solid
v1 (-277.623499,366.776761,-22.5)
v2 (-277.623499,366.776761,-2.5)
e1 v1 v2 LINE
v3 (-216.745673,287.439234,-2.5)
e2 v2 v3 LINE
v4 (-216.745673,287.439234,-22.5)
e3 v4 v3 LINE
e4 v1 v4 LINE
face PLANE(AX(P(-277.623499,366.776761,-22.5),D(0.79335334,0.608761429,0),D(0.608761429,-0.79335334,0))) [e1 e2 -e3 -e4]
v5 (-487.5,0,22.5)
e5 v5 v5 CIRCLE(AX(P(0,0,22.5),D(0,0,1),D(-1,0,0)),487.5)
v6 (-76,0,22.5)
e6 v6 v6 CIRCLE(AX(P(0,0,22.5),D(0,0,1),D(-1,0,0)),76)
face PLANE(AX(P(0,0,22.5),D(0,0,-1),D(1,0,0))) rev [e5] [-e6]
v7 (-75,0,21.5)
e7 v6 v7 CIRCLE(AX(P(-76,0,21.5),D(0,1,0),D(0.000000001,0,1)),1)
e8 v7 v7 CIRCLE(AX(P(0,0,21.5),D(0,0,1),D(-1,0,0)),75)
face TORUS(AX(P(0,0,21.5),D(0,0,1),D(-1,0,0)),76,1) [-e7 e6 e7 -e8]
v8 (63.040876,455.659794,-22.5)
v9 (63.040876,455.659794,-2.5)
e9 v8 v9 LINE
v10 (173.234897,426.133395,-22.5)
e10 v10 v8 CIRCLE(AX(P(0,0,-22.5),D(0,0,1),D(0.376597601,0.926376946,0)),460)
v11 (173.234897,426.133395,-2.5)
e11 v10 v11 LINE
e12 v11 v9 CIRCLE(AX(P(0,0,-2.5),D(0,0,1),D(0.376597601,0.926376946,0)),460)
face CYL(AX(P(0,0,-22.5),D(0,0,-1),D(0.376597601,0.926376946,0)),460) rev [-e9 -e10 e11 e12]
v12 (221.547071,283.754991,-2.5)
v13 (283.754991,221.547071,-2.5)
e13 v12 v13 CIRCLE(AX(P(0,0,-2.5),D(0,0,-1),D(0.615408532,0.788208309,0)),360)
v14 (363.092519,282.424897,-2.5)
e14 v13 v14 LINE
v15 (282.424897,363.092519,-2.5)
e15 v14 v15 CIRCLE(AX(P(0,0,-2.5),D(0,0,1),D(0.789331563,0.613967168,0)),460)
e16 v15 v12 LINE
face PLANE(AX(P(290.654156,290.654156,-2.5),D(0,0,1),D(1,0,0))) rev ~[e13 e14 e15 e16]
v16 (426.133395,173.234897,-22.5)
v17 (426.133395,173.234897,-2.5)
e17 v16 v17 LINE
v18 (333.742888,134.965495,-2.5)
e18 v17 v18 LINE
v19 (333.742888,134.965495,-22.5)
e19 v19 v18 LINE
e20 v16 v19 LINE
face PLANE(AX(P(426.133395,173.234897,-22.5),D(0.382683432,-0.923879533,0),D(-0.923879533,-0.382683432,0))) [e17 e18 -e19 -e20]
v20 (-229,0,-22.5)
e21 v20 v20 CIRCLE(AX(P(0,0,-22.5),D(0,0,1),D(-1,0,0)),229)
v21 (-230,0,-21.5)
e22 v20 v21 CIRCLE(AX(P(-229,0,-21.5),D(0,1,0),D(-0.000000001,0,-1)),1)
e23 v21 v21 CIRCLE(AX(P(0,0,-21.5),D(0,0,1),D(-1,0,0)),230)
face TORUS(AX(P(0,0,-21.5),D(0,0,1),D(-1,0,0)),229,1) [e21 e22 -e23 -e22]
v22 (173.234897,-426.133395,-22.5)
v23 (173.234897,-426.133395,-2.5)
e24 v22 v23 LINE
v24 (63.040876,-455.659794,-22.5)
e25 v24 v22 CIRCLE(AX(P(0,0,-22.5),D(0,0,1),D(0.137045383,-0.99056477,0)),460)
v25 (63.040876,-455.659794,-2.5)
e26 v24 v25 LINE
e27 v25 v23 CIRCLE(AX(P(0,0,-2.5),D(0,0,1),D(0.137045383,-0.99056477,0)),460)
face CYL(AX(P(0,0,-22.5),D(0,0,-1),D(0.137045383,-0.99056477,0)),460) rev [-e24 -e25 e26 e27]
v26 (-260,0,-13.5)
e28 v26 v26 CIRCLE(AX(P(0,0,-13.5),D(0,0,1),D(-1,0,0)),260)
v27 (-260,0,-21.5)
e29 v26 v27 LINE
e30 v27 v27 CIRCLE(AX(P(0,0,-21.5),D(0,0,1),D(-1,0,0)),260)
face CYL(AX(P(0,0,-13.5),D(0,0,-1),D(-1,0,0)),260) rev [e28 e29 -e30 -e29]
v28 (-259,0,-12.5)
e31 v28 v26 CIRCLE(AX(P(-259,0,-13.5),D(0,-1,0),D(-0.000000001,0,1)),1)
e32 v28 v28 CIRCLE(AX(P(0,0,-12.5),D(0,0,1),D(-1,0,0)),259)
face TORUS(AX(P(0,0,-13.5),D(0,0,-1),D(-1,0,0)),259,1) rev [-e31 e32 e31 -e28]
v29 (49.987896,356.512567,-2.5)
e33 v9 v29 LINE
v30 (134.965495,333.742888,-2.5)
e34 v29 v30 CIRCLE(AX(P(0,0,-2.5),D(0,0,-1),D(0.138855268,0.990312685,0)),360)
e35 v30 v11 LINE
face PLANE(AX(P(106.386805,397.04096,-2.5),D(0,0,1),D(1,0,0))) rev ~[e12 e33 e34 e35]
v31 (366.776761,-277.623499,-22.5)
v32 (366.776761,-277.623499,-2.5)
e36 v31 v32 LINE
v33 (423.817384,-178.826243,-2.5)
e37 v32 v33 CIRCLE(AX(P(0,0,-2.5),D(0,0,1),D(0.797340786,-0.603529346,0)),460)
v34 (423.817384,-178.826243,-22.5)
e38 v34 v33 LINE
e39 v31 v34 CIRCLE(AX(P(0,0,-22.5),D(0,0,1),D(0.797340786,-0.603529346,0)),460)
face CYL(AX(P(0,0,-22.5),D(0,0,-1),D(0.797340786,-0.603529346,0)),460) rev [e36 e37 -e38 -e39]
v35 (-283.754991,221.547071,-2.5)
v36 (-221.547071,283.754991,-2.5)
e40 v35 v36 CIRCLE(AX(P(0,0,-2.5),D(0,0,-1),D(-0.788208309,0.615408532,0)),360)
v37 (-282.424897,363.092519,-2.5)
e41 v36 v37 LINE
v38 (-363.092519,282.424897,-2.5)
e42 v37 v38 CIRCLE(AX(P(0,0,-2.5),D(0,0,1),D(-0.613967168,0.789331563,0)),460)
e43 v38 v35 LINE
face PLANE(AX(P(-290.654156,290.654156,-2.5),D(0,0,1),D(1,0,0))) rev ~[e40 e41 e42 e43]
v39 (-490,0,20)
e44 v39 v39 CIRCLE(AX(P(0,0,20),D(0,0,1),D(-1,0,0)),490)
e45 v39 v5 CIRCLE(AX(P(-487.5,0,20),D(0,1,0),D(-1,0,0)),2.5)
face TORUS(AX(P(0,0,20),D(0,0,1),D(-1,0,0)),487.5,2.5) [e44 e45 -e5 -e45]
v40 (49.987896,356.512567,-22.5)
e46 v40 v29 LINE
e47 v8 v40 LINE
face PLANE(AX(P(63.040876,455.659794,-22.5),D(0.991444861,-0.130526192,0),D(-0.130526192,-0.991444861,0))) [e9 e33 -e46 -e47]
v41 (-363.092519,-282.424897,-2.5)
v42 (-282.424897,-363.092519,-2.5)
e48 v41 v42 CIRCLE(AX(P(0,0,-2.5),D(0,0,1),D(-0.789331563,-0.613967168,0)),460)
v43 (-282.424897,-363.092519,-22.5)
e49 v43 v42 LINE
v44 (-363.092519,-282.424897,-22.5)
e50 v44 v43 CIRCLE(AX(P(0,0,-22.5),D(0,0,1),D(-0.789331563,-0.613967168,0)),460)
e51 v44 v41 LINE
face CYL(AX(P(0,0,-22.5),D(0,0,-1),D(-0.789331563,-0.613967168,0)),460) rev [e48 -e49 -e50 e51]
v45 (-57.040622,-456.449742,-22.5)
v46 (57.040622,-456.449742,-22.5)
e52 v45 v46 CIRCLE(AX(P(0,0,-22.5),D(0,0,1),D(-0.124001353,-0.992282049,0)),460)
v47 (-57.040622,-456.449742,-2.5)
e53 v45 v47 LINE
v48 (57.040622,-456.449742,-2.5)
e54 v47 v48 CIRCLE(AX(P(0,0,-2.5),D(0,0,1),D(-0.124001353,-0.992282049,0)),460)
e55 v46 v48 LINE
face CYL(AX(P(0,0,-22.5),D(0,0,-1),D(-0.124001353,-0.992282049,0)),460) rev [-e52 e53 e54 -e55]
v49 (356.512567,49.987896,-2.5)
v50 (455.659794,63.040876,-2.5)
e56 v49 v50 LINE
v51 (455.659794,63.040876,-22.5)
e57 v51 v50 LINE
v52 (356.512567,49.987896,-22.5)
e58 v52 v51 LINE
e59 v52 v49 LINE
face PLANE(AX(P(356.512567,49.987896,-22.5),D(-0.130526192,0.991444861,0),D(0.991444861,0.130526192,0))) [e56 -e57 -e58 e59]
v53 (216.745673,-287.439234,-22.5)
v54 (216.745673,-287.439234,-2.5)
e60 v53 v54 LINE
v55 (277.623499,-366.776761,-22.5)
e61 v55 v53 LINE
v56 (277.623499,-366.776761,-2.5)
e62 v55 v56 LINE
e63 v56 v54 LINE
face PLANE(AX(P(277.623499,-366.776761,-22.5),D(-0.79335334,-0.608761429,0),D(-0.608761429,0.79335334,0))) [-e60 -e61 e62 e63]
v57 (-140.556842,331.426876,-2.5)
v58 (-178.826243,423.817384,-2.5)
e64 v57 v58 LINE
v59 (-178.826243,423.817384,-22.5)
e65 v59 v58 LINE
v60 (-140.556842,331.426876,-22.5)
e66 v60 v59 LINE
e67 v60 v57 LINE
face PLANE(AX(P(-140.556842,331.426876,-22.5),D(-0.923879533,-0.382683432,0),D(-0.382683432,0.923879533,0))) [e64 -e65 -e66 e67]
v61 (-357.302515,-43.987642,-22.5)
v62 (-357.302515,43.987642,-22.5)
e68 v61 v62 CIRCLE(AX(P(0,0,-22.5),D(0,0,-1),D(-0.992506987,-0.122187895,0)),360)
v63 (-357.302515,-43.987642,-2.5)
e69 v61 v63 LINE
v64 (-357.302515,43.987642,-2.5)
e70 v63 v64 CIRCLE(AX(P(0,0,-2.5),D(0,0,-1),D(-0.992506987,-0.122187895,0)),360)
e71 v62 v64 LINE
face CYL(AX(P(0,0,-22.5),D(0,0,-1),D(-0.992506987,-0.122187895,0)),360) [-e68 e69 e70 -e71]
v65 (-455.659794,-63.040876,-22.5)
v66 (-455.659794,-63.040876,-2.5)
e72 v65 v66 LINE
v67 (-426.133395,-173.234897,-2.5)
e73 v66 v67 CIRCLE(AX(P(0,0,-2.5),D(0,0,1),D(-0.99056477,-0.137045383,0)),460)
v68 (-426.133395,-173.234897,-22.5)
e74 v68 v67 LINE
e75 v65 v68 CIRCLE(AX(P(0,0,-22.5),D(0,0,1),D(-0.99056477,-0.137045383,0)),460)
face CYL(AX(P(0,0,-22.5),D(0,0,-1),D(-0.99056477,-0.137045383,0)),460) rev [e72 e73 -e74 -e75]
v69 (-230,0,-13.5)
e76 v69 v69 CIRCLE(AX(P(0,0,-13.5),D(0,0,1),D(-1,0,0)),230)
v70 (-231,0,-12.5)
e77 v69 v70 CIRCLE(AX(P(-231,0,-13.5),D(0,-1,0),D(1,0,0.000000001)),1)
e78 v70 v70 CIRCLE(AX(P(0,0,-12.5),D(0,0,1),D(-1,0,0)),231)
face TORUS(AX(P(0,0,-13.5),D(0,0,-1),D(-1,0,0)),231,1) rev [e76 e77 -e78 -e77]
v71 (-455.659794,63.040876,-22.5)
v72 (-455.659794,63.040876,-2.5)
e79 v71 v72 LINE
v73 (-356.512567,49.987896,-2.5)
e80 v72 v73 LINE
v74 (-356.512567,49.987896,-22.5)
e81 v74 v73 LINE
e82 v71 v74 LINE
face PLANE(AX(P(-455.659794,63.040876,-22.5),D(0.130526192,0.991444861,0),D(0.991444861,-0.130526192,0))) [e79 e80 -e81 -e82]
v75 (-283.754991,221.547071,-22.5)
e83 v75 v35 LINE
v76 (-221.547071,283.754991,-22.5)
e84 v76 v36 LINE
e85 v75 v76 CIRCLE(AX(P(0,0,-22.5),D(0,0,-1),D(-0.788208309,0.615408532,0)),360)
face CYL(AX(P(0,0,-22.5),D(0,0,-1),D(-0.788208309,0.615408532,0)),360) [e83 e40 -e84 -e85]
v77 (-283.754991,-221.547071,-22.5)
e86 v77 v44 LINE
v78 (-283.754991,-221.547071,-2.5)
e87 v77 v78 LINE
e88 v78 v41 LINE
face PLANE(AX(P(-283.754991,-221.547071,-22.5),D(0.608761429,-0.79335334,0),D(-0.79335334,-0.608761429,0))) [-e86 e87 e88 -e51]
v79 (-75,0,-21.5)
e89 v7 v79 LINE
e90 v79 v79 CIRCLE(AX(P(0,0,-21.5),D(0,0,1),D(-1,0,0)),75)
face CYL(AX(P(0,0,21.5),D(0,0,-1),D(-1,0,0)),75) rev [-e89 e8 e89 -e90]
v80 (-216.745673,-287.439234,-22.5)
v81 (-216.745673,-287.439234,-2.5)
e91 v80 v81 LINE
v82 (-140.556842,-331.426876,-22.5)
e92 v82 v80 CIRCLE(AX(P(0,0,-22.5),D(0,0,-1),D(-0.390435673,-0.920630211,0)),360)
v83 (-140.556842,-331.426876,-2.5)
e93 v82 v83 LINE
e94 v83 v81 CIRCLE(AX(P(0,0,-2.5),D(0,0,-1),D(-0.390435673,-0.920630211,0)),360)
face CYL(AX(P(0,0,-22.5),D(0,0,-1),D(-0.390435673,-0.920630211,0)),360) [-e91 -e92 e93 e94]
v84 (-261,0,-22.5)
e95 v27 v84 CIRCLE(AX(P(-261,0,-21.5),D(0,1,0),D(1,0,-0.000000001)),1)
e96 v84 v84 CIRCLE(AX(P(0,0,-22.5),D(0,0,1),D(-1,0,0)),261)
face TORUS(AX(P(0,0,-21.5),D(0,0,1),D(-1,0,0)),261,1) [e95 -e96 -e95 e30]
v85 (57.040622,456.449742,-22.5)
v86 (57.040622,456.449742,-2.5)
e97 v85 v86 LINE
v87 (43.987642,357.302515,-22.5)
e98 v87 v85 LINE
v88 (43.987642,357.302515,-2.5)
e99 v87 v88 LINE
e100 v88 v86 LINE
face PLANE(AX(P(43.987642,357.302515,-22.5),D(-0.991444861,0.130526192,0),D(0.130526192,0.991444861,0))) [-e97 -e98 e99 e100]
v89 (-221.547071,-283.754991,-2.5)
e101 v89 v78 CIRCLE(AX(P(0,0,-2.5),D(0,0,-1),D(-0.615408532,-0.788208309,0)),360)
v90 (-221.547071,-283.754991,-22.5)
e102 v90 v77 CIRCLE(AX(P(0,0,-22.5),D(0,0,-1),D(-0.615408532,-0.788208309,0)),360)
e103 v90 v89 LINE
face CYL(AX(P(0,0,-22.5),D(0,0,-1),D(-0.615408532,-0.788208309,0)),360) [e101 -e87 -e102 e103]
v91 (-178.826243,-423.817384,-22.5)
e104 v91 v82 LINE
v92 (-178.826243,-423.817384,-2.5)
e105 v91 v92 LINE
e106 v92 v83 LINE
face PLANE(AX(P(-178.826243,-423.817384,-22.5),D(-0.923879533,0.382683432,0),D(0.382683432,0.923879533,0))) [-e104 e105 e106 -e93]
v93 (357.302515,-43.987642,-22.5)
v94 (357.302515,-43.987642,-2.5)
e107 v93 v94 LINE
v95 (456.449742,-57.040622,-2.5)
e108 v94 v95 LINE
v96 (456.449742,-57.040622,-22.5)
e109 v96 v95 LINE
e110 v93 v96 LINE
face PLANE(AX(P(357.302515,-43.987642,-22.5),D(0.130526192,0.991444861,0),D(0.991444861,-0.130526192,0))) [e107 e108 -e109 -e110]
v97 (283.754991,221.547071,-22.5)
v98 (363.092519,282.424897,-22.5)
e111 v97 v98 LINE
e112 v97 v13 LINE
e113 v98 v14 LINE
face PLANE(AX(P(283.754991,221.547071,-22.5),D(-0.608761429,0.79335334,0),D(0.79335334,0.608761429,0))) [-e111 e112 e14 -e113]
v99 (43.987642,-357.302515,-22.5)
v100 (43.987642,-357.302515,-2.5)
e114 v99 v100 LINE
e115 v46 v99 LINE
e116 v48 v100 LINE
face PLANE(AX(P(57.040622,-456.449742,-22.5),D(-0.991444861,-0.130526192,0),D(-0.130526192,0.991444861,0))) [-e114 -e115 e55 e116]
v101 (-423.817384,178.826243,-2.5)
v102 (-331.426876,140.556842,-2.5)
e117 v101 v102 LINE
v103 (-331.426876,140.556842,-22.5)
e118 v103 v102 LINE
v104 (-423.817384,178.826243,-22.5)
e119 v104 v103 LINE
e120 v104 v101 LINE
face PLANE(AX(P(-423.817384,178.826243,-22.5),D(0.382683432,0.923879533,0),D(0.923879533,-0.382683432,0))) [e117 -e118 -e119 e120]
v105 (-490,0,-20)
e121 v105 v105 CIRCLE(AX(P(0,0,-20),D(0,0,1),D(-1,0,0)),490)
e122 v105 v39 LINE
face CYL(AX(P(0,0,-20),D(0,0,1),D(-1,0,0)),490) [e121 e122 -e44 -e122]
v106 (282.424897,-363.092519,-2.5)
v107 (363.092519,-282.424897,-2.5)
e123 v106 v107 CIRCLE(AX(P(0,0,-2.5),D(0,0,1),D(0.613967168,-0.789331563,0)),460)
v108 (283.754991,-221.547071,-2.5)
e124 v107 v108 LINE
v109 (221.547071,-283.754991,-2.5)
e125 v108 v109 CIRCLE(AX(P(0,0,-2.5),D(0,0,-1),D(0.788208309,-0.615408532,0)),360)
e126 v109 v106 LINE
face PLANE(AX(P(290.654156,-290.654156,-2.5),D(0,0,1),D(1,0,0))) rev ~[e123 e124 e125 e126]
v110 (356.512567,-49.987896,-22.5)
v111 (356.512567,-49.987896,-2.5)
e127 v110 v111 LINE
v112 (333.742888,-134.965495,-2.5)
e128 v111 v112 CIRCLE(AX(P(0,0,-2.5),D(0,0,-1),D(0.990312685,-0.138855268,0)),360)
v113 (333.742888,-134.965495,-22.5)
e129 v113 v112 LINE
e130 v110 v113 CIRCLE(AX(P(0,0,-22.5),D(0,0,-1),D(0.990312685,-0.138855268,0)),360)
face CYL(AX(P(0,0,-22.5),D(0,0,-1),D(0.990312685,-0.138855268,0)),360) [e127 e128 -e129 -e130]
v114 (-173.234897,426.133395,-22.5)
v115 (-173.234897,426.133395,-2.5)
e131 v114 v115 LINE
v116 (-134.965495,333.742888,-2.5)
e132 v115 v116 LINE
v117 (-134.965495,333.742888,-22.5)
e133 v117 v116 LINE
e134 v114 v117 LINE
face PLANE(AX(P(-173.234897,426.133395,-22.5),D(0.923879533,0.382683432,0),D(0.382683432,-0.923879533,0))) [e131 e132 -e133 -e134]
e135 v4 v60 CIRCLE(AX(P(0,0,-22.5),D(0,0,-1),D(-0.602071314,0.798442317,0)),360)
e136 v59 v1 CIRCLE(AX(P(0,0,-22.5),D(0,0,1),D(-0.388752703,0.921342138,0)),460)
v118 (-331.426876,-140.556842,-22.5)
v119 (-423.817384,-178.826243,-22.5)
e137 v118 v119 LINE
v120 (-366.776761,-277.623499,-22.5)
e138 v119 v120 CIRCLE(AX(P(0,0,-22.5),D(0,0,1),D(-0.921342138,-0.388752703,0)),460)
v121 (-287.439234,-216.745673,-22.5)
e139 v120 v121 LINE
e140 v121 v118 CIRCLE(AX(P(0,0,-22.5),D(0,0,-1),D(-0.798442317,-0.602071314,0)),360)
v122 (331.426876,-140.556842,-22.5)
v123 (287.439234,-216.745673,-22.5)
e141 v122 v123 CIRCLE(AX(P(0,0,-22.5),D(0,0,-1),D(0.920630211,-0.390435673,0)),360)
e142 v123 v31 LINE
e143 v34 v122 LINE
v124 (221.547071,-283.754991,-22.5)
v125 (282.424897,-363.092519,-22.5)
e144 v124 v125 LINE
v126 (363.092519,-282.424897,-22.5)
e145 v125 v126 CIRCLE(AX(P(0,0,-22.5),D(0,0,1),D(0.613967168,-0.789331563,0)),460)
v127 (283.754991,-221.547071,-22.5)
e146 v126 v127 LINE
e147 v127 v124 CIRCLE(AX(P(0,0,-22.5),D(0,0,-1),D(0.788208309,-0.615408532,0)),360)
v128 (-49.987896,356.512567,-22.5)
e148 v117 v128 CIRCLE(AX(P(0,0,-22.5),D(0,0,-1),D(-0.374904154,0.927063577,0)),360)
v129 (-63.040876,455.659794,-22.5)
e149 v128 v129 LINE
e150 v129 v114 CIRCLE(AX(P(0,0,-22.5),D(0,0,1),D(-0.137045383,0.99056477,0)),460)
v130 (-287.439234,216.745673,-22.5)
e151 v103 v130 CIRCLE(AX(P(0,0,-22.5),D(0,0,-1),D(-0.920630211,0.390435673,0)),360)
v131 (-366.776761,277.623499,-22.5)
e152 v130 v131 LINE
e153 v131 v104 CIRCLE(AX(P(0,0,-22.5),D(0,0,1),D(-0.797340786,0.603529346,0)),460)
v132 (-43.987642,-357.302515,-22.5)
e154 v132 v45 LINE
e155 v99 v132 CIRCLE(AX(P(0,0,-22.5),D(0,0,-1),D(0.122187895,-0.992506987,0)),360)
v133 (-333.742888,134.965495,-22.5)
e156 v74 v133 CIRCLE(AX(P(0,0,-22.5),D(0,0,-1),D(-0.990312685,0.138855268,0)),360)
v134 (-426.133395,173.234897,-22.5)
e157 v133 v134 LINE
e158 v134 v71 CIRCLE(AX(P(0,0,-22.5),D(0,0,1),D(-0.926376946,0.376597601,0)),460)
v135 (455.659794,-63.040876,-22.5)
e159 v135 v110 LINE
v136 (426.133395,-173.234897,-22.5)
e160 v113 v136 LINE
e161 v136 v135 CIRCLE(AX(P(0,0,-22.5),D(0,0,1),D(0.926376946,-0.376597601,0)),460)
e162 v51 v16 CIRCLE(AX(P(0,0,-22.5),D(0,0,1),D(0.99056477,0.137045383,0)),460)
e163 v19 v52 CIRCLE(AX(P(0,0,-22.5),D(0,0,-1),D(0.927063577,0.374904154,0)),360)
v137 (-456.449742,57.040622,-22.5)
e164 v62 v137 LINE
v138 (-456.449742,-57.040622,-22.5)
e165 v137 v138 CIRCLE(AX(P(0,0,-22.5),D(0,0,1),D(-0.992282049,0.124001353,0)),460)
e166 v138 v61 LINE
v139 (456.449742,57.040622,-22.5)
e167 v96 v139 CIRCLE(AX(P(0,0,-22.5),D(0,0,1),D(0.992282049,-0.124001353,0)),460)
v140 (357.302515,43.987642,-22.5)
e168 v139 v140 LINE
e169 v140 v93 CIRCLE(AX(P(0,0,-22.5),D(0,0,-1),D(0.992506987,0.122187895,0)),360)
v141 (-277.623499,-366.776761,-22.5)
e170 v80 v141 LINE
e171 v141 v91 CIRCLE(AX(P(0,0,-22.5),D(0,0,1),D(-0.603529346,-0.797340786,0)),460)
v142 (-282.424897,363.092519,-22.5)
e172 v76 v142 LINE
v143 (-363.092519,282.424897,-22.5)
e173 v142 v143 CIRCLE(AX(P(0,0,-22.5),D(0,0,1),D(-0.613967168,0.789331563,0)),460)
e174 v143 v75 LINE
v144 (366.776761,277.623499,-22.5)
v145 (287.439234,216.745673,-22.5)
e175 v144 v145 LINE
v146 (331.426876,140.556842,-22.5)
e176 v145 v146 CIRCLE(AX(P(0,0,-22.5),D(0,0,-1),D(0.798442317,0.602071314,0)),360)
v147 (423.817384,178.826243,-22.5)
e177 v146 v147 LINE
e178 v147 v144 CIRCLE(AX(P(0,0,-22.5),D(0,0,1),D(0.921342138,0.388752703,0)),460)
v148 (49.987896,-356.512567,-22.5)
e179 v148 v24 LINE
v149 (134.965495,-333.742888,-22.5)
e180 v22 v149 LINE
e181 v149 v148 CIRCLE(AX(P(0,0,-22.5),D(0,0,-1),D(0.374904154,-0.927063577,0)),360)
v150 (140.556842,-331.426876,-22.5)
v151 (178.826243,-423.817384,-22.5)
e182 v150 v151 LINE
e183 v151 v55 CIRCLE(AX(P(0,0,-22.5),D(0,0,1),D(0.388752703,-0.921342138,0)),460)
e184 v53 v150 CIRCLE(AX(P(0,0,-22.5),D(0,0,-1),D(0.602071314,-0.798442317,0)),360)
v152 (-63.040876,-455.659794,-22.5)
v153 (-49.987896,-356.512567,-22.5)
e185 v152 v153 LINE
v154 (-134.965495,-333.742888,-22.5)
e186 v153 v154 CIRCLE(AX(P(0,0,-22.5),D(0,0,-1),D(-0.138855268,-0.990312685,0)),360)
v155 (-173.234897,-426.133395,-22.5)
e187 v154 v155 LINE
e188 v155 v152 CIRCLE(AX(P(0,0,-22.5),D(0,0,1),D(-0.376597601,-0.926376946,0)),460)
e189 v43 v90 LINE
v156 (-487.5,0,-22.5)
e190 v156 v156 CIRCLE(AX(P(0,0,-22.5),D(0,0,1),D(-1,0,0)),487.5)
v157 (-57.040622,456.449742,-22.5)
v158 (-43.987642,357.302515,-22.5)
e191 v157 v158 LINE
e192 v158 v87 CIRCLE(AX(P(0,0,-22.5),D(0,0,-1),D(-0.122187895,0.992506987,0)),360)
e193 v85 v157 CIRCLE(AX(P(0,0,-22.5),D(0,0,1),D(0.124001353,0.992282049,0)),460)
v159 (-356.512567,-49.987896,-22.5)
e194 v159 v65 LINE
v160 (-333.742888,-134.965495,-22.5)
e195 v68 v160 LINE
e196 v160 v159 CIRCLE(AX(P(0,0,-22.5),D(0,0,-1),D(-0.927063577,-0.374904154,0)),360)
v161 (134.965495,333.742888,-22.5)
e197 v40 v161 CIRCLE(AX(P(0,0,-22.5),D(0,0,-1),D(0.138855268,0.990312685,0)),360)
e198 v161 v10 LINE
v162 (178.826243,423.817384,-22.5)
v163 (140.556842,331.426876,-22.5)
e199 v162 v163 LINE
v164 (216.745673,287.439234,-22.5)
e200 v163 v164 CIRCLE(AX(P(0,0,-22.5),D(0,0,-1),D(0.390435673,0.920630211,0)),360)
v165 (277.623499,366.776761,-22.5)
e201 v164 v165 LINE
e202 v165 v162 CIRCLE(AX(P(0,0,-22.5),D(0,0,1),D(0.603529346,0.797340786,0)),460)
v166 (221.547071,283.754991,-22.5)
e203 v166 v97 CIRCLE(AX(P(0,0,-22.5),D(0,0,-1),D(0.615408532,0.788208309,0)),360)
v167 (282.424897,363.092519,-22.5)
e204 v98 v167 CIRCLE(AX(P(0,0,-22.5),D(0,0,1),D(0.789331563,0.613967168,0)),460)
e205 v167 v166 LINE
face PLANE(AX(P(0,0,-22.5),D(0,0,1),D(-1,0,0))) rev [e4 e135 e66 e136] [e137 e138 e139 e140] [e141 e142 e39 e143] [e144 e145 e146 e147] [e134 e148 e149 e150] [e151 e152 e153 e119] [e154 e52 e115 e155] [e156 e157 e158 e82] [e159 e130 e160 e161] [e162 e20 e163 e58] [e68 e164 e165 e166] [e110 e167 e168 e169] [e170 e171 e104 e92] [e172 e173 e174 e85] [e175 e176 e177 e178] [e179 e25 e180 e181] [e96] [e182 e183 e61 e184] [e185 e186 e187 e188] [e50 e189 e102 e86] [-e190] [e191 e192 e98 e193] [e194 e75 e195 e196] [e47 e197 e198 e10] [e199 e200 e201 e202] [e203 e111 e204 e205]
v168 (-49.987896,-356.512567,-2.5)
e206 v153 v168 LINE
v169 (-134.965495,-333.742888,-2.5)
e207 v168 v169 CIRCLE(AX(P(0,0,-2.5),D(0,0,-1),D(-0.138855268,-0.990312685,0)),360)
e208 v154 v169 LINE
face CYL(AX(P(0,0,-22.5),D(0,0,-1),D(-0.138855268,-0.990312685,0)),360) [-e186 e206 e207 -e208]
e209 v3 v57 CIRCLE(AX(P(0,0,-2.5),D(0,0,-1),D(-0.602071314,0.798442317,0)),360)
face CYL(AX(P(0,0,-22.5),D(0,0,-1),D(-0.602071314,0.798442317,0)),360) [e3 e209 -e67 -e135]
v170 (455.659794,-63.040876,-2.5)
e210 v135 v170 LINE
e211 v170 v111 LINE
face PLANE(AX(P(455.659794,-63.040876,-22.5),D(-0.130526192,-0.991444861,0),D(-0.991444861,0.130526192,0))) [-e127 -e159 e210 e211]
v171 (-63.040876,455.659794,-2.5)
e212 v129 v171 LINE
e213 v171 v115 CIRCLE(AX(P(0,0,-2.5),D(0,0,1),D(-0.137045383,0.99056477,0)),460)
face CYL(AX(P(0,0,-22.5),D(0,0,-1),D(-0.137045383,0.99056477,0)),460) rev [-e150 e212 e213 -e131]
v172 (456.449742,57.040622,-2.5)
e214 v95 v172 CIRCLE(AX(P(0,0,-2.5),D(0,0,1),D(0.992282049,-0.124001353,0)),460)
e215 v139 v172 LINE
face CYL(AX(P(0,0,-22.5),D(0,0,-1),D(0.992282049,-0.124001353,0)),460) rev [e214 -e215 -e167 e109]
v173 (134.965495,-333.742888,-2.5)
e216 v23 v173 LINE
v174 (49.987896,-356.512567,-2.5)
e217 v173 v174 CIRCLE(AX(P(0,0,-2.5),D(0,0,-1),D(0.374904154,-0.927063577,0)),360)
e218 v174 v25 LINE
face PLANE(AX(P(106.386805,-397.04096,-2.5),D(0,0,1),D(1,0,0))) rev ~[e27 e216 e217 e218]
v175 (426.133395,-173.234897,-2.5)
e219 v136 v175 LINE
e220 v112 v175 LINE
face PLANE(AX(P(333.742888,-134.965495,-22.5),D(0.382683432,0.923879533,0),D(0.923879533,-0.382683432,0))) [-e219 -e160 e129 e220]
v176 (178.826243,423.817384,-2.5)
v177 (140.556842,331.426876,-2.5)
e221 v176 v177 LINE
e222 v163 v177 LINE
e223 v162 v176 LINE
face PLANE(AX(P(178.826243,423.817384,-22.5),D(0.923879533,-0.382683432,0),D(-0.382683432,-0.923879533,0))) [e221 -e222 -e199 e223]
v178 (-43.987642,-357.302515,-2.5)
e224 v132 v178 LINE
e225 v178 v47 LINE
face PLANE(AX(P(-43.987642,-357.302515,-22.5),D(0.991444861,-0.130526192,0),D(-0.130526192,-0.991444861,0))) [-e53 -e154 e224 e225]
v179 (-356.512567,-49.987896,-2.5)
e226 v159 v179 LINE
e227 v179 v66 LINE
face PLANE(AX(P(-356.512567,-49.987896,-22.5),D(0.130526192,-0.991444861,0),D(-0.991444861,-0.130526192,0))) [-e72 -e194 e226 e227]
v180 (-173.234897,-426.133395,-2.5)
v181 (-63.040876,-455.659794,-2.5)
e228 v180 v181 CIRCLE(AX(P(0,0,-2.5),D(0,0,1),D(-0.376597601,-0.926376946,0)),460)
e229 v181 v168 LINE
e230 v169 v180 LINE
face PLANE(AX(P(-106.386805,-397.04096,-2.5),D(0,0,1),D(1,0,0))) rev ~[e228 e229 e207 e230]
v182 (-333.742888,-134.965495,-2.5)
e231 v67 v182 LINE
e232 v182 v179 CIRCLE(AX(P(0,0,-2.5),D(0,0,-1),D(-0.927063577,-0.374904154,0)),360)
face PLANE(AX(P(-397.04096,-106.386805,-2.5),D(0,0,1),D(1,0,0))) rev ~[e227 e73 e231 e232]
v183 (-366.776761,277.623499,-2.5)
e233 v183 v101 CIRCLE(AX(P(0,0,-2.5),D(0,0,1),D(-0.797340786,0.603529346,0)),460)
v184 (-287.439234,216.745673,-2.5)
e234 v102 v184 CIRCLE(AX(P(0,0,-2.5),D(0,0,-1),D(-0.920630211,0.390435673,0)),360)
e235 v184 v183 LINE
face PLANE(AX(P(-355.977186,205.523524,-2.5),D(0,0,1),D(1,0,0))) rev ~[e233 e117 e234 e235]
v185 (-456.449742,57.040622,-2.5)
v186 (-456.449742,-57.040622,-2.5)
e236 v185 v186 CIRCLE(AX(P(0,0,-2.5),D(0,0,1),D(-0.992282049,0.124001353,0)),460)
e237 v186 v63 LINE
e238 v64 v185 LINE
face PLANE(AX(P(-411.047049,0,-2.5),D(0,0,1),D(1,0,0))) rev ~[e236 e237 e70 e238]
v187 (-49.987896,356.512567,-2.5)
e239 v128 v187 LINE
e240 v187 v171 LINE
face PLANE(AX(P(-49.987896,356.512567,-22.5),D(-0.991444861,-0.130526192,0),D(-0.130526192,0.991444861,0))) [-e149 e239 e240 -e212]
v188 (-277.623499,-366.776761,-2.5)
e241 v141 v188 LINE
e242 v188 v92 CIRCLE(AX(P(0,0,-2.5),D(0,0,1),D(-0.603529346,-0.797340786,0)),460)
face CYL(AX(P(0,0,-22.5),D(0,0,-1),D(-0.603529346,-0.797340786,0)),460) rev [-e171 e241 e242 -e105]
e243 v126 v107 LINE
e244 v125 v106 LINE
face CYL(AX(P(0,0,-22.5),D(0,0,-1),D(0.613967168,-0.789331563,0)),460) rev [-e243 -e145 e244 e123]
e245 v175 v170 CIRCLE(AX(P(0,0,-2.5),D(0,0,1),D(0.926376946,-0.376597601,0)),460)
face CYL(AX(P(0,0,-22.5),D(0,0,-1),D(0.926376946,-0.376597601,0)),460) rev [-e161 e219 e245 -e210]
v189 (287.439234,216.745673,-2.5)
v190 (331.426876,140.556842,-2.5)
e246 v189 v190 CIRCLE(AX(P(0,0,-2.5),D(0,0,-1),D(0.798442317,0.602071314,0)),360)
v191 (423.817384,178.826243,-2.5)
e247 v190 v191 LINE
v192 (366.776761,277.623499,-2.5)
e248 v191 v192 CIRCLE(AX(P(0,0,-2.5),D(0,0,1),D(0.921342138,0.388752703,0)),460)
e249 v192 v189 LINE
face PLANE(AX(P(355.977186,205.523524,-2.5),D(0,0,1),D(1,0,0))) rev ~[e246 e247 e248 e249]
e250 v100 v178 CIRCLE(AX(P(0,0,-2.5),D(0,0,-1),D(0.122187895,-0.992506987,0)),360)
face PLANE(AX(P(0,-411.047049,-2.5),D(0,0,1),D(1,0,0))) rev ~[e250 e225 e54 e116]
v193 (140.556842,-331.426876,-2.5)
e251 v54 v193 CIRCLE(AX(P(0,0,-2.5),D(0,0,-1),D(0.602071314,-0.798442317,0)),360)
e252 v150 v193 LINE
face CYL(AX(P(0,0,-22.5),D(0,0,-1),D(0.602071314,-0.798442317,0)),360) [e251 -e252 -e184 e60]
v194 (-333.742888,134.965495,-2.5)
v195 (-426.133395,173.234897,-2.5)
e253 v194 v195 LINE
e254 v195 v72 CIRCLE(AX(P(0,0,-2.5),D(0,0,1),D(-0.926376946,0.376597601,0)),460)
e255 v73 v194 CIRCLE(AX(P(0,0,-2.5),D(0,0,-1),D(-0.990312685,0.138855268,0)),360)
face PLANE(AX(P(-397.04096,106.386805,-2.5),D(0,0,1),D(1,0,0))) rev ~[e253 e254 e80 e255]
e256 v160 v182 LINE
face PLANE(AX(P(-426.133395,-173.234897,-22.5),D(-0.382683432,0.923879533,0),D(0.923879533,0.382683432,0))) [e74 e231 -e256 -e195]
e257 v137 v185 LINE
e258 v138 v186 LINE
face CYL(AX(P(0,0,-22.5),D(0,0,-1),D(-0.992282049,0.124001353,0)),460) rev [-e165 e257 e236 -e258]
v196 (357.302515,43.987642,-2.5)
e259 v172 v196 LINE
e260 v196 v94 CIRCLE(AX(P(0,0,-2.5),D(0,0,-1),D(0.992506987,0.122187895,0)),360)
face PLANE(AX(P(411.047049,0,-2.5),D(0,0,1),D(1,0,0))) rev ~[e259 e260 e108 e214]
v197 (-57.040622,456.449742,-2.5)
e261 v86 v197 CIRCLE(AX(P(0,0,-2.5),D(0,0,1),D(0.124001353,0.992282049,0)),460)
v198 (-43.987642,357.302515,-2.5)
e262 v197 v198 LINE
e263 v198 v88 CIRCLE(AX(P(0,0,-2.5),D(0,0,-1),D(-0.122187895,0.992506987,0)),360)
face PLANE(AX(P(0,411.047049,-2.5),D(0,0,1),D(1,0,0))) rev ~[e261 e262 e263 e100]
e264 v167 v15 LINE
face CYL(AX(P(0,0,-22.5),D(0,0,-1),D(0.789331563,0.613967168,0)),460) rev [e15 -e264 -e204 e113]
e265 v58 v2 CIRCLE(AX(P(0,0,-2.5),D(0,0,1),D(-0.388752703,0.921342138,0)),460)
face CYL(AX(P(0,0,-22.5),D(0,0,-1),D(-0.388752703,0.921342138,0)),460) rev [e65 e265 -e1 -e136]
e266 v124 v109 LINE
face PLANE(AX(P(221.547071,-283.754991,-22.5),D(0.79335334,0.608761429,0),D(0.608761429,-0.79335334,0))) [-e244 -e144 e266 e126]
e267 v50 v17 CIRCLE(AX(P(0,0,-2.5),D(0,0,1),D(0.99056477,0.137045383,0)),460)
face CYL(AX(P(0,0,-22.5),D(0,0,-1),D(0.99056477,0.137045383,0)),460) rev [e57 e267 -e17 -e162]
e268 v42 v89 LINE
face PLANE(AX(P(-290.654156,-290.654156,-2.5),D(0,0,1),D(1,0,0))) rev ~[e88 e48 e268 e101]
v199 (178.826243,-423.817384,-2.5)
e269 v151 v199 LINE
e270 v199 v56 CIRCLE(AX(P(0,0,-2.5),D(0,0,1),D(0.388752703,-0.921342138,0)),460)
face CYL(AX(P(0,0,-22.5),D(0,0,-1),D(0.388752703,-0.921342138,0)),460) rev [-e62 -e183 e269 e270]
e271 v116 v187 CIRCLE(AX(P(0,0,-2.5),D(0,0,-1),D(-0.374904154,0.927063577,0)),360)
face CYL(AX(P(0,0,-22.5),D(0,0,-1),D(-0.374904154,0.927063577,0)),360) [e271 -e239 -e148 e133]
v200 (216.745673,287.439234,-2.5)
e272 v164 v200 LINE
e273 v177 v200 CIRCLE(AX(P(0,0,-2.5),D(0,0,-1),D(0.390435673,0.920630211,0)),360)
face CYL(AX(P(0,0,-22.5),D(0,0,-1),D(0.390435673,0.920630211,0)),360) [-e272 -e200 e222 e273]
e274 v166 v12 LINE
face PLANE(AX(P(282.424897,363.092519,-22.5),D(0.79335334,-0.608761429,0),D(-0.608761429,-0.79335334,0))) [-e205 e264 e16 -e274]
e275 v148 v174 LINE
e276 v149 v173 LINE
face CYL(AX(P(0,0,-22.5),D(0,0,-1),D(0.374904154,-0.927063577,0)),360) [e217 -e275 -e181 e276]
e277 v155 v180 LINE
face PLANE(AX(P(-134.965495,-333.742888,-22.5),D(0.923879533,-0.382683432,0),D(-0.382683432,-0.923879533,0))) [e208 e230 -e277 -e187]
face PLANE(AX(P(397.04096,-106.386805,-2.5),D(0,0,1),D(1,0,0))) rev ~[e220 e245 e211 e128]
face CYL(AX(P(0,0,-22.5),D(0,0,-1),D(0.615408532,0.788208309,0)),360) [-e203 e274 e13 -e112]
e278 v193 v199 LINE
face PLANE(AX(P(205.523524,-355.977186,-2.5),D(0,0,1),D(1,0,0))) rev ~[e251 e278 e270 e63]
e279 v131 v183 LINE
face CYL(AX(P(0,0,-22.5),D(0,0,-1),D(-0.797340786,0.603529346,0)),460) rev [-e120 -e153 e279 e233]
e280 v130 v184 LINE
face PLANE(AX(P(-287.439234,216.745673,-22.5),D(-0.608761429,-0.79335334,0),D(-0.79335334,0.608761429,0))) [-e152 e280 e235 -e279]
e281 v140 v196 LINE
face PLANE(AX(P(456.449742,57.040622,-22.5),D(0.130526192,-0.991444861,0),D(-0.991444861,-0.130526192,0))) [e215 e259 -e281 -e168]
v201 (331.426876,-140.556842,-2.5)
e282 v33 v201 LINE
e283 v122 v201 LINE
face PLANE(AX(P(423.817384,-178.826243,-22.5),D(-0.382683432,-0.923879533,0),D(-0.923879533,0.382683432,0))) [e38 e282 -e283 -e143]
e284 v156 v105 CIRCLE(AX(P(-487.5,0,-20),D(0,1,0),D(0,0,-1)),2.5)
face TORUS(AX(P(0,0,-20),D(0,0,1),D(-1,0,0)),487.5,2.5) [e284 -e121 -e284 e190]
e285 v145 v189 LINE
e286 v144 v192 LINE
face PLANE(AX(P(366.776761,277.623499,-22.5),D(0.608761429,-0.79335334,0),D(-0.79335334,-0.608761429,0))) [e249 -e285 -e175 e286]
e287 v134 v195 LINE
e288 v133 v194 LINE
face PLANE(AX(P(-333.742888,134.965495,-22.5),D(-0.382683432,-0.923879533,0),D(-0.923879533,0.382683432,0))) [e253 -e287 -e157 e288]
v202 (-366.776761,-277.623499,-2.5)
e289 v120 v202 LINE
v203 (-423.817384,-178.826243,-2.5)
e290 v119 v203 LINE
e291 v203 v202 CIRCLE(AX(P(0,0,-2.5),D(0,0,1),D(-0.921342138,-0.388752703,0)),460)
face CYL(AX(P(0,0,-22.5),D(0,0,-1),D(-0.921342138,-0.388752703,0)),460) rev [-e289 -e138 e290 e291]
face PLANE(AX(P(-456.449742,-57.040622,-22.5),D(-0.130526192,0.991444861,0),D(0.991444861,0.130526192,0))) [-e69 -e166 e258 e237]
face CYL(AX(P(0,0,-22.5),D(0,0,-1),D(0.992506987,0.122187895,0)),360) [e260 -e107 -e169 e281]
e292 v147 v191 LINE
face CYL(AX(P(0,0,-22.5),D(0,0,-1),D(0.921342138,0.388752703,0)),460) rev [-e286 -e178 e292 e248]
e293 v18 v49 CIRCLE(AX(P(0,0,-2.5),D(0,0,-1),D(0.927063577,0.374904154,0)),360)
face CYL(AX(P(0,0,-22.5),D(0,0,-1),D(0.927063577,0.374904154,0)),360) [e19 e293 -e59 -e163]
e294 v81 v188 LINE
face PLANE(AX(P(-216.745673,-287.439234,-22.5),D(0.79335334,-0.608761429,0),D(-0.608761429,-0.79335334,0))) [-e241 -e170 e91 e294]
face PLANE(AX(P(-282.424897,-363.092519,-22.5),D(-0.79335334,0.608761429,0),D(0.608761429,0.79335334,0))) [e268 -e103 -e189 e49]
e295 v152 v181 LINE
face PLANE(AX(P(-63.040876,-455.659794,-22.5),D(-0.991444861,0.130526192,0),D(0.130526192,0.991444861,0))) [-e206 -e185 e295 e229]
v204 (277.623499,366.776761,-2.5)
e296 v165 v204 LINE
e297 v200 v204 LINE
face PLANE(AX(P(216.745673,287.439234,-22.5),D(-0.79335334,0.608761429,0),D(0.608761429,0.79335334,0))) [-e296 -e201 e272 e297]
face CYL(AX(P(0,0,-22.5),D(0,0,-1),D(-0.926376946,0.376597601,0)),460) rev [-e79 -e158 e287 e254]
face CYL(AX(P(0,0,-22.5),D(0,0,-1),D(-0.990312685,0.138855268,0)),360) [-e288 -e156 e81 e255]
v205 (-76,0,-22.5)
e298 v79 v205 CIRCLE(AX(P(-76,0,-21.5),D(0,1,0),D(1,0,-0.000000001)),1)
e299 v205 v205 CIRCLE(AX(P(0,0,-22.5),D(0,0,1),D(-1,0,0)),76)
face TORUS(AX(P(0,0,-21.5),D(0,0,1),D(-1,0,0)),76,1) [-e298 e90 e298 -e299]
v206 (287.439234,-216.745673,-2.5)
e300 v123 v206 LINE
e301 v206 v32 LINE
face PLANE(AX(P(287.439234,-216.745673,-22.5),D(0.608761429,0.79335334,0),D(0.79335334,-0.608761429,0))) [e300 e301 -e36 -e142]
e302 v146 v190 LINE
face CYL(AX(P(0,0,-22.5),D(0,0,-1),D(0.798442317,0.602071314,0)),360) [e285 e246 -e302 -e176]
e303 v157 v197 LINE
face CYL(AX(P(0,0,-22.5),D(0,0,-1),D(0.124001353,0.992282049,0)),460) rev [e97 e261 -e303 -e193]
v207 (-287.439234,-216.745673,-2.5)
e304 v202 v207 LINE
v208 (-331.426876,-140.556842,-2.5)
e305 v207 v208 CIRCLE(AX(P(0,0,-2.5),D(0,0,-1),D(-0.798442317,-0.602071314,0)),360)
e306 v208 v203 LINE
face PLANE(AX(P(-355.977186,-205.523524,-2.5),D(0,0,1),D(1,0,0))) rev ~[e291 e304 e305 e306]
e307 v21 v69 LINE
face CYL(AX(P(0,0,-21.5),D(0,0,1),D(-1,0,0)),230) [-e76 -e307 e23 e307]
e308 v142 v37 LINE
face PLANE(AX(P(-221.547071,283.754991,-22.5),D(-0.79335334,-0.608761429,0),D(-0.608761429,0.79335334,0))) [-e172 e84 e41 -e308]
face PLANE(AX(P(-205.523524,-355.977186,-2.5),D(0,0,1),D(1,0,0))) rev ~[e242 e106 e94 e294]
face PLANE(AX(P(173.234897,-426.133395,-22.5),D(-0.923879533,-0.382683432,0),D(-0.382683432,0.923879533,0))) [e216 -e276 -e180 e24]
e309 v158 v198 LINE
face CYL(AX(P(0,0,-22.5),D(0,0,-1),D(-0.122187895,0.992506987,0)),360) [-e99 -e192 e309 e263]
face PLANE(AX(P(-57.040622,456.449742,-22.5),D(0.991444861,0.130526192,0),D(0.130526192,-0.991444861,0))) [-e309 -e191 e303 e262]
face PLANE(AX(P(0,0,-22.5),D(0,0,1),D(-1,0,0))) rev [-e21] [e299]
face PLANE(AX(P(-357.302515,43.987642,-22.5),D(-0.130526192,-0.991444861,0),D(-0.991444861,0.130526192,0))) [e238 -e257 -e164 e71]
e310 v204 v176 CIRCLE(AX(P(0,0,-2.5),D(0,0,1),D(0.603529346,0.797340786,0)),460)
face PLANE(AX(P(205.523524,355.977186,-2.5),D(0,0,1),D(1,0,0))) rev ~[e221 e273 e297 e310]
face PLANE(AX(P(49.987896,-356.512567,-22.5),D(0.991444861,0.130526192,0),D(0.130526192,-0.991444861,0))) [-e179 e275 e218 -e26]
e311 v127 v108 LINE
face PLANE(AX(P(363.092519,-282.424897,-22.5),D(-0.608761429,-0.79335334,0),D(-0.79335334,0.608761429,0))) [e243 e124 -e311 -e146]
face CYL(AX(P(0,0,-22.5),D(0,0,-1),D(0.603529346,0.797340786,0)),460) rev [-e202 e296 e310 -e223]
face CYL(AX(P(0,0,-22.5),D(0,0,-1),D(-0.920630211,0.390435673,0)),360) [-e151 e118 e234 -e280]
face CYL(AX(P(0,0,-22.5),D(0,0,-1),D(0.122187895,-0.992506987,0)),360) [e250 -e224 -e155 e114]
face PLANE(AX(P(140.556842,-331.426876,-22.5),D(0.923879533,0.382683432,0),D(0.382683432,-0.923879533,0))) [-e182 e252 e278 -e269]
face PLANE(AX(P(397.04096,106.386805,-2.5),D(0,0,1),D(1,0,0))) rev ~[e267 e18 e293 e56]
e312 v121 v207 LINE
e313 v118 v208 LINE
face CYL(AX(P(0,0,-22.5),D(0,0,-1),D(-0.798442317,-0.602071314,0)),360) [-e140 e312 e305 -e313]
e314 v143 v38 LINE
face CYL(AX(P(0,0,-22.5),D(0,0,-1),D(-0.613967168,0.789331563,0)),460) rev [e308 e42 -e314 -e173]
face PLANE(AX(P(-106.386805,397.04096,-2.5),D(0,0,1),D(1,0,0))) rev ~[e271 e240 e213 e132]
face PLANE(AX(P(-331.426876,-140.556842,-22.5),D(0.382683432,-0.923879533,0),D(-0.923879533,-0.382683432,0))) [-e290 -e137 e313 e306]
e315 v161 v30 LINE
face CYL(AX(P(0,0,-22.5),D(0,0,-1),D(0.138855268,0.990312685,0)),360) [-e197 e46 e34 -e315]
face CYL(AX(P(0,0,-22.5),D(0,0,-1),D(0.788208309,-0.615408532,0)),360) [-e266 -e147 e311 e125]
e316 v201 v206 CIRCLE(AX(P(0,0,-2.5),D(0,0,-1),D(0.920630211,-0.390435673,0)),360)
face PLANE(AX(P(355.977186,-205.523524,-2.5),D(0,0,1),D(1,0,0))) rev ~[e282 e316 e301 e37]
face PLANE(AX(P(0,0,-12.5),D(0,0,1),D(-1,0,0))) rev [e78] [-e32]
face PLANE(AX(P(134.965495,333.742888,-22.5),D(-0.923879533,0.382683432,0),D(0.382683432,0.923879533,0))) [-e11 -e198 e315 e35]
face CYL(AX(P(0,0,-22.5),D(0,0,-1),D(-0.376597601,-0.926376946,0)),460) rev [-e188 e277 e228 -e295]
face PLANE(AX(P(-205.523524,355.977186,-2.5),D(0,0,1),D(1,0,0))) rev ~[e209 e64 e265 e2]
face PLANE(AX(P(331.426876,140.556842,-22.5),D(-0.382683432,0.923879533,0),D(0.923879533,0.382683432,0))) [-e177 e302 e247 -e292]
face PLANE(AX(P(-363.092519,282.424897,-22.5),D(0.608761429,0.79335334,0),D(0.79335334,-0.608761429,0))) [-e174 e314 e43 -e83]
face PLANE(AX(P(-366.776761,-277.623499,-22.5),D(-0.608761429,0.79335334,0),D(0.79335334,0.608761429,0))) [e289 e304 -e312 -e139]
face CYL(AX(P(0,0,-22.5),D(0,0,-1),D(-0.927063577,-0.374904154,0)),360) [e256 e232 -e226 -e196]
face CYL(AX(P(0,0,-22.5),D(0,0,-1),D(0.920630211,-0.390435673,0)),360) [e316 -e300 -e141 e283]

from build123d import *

# Parameters (mm, degrees)
CUT_EXTRUDE1_DEPTH = 20


with BuildPart() as part:
    # Sketch1 → Revolve1 (revolve)
    with BuildSketch(Plane(origin=(0, 0, 0), x_dir=(1, 0, 0), z_dir=(0, 1, 0))):
        with BuildLine():
            Line((-490, 20), (-490, -20))
            ThreePointArc((-490, -20), (-489.267766953, -21.767766953), (-487.5, -22.5))
            Line((-487.5, -22.5), (-150, -22.5))
            Line((-150, -22.5), (-76, -22.5))
            ThreePointArc((-76, -22.5), (-75.292893219, -22.207106781), (-75, -21.5))
            Line((-75, -21.5), (-75, 21.5))
            ThreePointArc((-75, 21.5), (-75.292893219, 22.207106781), (-76, 22.5))
            Line((-76, 22.5), (-150, 22.5))
            Line((-150, 22.5), (-229, 22.5))
            ThreePointArc((-229, 22.5), (-229.707106781, 22.207106781), (-230, 21.5))
            Line((-230, 21.5), (-230, 13.5))
            ThreePointArc((-230, 13.5), (-230.292893219, 12.792893219), (-231, 12.5))
            Line((-231, 12.5), (-259, 12.5))
            ThreePointArc((-259, 12.5), (-259.707106781, 12.792893219), (-260, 13.5))
            Line((-260, 13.5), (-260, 21.5))
            ThreePointArc((-260, 21.5), (-260.292893219, 22.207106781), (-261, 22.5))
            Line((-261, 22.5), (-487.5, 22.5))
            ThreePointArc((-487.5, 22.5), (-489.267766953, 21.767766953), (-490, 20))
        make_face()
    revolve(axis=Axis((0, 0, -58.854483289), (0, 0, 1)))

    # Sketch6 → Cut-Extrude1 (cut)
    with BuildSketch(Plane(origin=(0, 0, -22.5), x_dir=(-1, 0, 0), z_dir=(0, 0, -1))):
        with BuildLine():
            Line((-456.449742496, 57.040622151), (-357.302515171, 43.987642045))
            ThreePointArc((-357.302515171, 43.987642045), (-360, 0), (-357.302515171, -43.987642045))
            Line((-357.302515171, -43.987642045), (-456.449742496, -57.040622151))
            ThreePointArc((-456.449742496, -57.040622151), (-460, 0), (-456.449742496, 57.040622151))
        make_face()
        with BuildLine():
            Line((-423.817383628, -178.826243417), (-331.426875996, -140.556842122))
            ThreePointArc((-331.426875996, -140.556842122), (-311.769145362, -180), (-287.439233951, -216.745673049))
            Line((-287.439233951, -216.745673049), (-366.776761477, -277.623499079))
            ThreePointArc((-366.776761477, -277.623499079), (-398.371685741, -230), (-423.817383628, -178.826243417))
        make_face()
        with BuildLine():
            Line((-426.133395323, 173.234896574), (-333.742887691, 134.965495278))
            ThreePointArc((-333.742887691, 134.965495278), (-347.733297464, 93.174856237), (-356.512566712, 49.9878963))
            Line((-356.512566712, 49.9878963), (-455.659794037, 63.040876407))
            ThreePointArc((-455.659794037, 63.040876407), (-444.325880093, 119.056760747), (-426.133395323, 173.234896574))
        make_face()
        with BuildLine():
            Line((-366.776761477, 277.623499079), (-287.439233951, 216.745673049))
            ThreePointArc((-287.439233951, 216.745673049), (-311.769145362, 180), (-331.426875996, 140.556842122))
            Line((-331.426875996, 140.556842122), (-423.817383628, 178.826243417))
            ThreePointArc((-423.817383628, 178.826243417), (-398.371685741, 230), (-366.776761477, 277.623499079))
        make_face()
        with BuildLine():
            Line((-282.424897463, 363.092518916), (-221.547071434, 283.754991391))
            ThreePointArc((-221.547071434, 283.754991391), (-254.558441227, 254.558441227), (-283.754991391, 221.547071434))
            Line((-283.754991391, 221.547071434), (-363.092518916, 282.424897463))
            ThreePointArc((-363.092518916, 282.424897463), (-325.269119346, 325.269119346), (-282.424897463, 363.092518916))
        make_face()
        with BuildLine():
            Line((-178.826243417, 423.817383628), (-140.556842122, 331.426875996))
            ThreePointArc((-140.556842122, 331.426875996), (-180, 311.769145362), (-216.745673049, 287.439233951))
            Line((-216.745673049, 287.439233951), (-277.623499079, 366.776761477))
            ThreePointArc((-277.623499079, 366.776761477), (-230, 398.371685741), (-178.826243417, 423.817383628))
        make_face()
        with BuildLine():
            Line((-63.040876407, 455.659794037), (-49.9878963, 356.512566712))
            ThreePointArc((-49.9878963, 356.512566712), (-93.174856237, 347.733297464), (-134.965495278, 333.742887691))
            Line((-134.965495278, 333.742887691), (-173.234896574, 426.133395323))
            ThreePointArc((-173.234896574, 426.133395323), (-119.056760747, 444.325880093), (-63.040876407, 455.659794037))
        make_face()
        with BuildLine():
            Line((57.040622151, 456.449742496), (43.987642045, 357.302515171))
            ThreePointArc((43.987642045, 357.302515171), (0, 360), (-43.987642045, 357.302515171))
            Line((-43.987642045, 357.302515171), (-57.040622151, 456.449742496))
            ThreePointArc((-57.040622151, 456.449742496), (0, 460), (57.040622151, 456.449742496))
        make_face()
        with BuildLine():
            Line((173.234896574, 426.133395323), (134.965495278, 333.742887691))
            ThreePointArc((134.965495278, 333.742887691), (93.174856237, 347.733297464), (49.9878963, 356.512566712))
            Line((49.9878963, 356.512566712), (63.040876407, 455.659794037))
            ThreePointArc((63.040876407, 455.659794037), (119.056760747, 444.325880093), (173.234896574, 426.133395323))
        make_face()
        with BuildLine():
            Line((277.623499079, 366.776761477), (216.745673049, 287.439233951))
            ThreePointArc((216.745673049, 287.439233951), (180, 311.769145362), (140.556842122, 331.426875996))
            Line((140.556842122, 331.426875996), (178.826243417, 423.817383628))
            ThreePointArc((178.826243417, 423.817383628), (230, 398.371685741), (277.623499079, 366.776761477))
        make_face()
        with BuildLine():
            Line((363.092518916, 282.424897463), (283.754991391, 221.547071434))
            ThreePointArc((283.754991391, 221.547071434), (254.558441227, 254.558441227), (221.547071434, 283.754991391))
            Line((221.547071434, 283.754991391), (282.424897463, 363.092518916))
            ThreePointArc((282.424897463, 363.092518916), (325.269119346, 325.269119346), (363.092518916, 282.424897463))
        make_face()
        with BuildLine():
            Line((423.817383628, 178.826243417), (331.426875996, 140.556842122))
            ThreePointArc((331.426875996, 140.556842122), (311.769145362, 180), (287.439233951, 216.745673049))
            Line((287.439233951, 216.745673049), (366.776761477, 277.623499079))
            ThreePointArc((366.776761477, 277.623499079), (398.371685741, 230), (423.817383628, 178.826243417))
        make_face()
        with BuildLine():
            Line((455.659794037, 63.040876407), (356.512566712, 49.9878963))
            ThreePointArc((356.512566712, 49.9878963), (347.733297464, 93.174856237), (333.742887691, 134.965495278))
            Line((333.742887691, 134.965495278), (426.133395323, 173.234896574))
            ThreePointArc((426.133395323, 173.234896574), (444.325880093, 119.056760747), (455.659794037, 63.040876407))
        make_face()
        with BuildLine():
            Line((456.449742496, -57.040622151), (357.302515171, -43.987642045))
            ThreePointArc((357.302515171, -43.987642045), (360, 0), (357.302515171, 43.987642045))
            Line((357.302515171, 43.987642045), (456.449742496, 57.040622151))
            ThreePointArc((456.449742496, 57.040622151), (460, 0), (456.449742496, -57.040622151))
        make_face()
        with BuildLine():
            Line((426.133395323, -173.234896574), (333.742887691, -134.965495278))
            ThreePointArc((333.742887691, -134.965495278), (347.733297464, -93.174856237), (356.512566712, -49.9878963))
            Line((356.512566712, -49.9878963), (455.659794037, -63.040876407))
            ThreePointArc((455.659794037, -63.040876407), (444.325880093, -119.056760747), (426.133395323, -173.234896574))
        make_face()
        with BuildLine():
            Line((366.776761477, -277.623499079), (287.439233951, -216.745673049))
            ThreePointArc((287.439233951, -216.745673049), (311.769145362, -180), (331.426875996, -140.556842122))
            Line((331.426875996, -140.556842122), (423.817383628, -178.826243417))
            ThreePointArc((423.817383628, -178.826243417), (398.371685741, -230), (366.776761477, -277.623499079))
        make_face()
        with BuildLine():
            Line((282.424897463, -363.092518916), (221.547071434, -283.754991391))
            ThreePointArc((221.547071434, -283.754991391), (254.558441227, -254.558441227), (283.754991391, -221.547071434))
            Line((283.754991391, -221.547071434), (363.092518916, -282.424897463))
            ThreePointArc((363.092518916, -282.424897463), (325.269119346, -325.269119346), (282.424897463, -363.092518916))
        make_face()
        with BuildLine():
            Line((178.826243417, -423.817383628), (140.556842122, -331.426875996))
            ThreePointArc((140.556842122, -331.426875996), (180, -311.769145362), (216.745673049, -287.439233951))
            Line((216.745673049, -287.439233951), (277.623499079, -366.776761477))
            ThreePointArc((277.623499079, -366.776761477), (230, -398.371685741), (178.826243417, -423.817383628))
        make_face()
        with BuildLine():
            Line((63.040876407, -455.659794037), (49.9878963, -356.512566712))
            ThreePointArc((49.9878963, -356.512566712), (93.174856237, -347.733297464), (134.965495278, -333.742887691))
            Line((134.965495278, -333.742887691), (173.234896574, -426.133395323))
            ThreePointArc((173.234896574, -426.133395323), (119.056760747, -444.325880093), (63.040876407, -455.659794037))
        make_face()
        with BuildLine():
            Line((-57.040622151, -456.449742496), (-43.987642045, -357.302515171))
            ThreePointArc((-43.987642045, -357.302515171), (0, -360), (43.987642045, -357.302515171))
            Line((43.987642045, -357.302515171), (57.040622151, -456.449742496))
            ThreePointArc((57.040622151, -456.449742496), (0, -460), (-57.040622151, -456.449742496))
        make_face()
        with BuildLine():
            Line((-173.234896574, -426.133395323), (-134.965495278, -333.742887691))
            ThreePointArc((-134.965495278, -333.742887691), (-93.174856237, -347.733297464), (-49.9878963, -356.512566712))
            Line((-49.9878963, -356.512566712), (-63.040876407, -455.659794037))
            ThreePointArc((-63.040876407, -455.659794037), (-119.056760747, -444.325880093), (-173.234896574, -426.133395323))
        make_face()
        with BuildLine():
            Line((-277.623499079, -366.776761477), (-216.745673049, -287.439233951))
            ThreePointArc((-216.745673049, -287.439233951), (-180, -311.769145362), (-140.556842122, -331.426875996))
            Line((-140.556842122, -331.426875996), (-178.826243417, -423.817383628))
            ThreePointArc((-178.826243417, -423.817383628), (-230, -398.371685741), (-277.623499079, -366.776761477))
        make_face()
        with BuildLine():
            Line((-363.092518916, -282.424897463), (-283.754991391, -221.547071434))
            ThreePointArc((-283.754991391, -221.547071434), (-254.558441227, -254.558441227), (-221.547071434, -283.754991391))
            Line((-221.547071434, -283.754991391), (-282.424897463, -363.092518916))
            ThreePointArc((-282.424897463, -363.092518916), (-325.269119346, -325.269119346), (-363.092518916, -282.424897463))
        make_face()
        with BuildLine():
            Line((-455.659794037, -63.040876407), (-356.512566712, -49.9878963))
            ThreePointArc((-356.512566712, -49.9878963), (-347.733297464, -93.174856237), (-333.742887691, -134.965495278))
            Line((-333.742887691, -134.965495278), (-426.133395323, -173.234896574))
            ThreePointArc((-426.133395323, -173.234896574), (-444.325880093, -119.056760747), (-455.659794037, -63.040876407))
        make_face()
    extrude(amount=-CUT_EXTRUDE1_DEPTH, mode=Mode.SUBTRACT)


solid = part.part
